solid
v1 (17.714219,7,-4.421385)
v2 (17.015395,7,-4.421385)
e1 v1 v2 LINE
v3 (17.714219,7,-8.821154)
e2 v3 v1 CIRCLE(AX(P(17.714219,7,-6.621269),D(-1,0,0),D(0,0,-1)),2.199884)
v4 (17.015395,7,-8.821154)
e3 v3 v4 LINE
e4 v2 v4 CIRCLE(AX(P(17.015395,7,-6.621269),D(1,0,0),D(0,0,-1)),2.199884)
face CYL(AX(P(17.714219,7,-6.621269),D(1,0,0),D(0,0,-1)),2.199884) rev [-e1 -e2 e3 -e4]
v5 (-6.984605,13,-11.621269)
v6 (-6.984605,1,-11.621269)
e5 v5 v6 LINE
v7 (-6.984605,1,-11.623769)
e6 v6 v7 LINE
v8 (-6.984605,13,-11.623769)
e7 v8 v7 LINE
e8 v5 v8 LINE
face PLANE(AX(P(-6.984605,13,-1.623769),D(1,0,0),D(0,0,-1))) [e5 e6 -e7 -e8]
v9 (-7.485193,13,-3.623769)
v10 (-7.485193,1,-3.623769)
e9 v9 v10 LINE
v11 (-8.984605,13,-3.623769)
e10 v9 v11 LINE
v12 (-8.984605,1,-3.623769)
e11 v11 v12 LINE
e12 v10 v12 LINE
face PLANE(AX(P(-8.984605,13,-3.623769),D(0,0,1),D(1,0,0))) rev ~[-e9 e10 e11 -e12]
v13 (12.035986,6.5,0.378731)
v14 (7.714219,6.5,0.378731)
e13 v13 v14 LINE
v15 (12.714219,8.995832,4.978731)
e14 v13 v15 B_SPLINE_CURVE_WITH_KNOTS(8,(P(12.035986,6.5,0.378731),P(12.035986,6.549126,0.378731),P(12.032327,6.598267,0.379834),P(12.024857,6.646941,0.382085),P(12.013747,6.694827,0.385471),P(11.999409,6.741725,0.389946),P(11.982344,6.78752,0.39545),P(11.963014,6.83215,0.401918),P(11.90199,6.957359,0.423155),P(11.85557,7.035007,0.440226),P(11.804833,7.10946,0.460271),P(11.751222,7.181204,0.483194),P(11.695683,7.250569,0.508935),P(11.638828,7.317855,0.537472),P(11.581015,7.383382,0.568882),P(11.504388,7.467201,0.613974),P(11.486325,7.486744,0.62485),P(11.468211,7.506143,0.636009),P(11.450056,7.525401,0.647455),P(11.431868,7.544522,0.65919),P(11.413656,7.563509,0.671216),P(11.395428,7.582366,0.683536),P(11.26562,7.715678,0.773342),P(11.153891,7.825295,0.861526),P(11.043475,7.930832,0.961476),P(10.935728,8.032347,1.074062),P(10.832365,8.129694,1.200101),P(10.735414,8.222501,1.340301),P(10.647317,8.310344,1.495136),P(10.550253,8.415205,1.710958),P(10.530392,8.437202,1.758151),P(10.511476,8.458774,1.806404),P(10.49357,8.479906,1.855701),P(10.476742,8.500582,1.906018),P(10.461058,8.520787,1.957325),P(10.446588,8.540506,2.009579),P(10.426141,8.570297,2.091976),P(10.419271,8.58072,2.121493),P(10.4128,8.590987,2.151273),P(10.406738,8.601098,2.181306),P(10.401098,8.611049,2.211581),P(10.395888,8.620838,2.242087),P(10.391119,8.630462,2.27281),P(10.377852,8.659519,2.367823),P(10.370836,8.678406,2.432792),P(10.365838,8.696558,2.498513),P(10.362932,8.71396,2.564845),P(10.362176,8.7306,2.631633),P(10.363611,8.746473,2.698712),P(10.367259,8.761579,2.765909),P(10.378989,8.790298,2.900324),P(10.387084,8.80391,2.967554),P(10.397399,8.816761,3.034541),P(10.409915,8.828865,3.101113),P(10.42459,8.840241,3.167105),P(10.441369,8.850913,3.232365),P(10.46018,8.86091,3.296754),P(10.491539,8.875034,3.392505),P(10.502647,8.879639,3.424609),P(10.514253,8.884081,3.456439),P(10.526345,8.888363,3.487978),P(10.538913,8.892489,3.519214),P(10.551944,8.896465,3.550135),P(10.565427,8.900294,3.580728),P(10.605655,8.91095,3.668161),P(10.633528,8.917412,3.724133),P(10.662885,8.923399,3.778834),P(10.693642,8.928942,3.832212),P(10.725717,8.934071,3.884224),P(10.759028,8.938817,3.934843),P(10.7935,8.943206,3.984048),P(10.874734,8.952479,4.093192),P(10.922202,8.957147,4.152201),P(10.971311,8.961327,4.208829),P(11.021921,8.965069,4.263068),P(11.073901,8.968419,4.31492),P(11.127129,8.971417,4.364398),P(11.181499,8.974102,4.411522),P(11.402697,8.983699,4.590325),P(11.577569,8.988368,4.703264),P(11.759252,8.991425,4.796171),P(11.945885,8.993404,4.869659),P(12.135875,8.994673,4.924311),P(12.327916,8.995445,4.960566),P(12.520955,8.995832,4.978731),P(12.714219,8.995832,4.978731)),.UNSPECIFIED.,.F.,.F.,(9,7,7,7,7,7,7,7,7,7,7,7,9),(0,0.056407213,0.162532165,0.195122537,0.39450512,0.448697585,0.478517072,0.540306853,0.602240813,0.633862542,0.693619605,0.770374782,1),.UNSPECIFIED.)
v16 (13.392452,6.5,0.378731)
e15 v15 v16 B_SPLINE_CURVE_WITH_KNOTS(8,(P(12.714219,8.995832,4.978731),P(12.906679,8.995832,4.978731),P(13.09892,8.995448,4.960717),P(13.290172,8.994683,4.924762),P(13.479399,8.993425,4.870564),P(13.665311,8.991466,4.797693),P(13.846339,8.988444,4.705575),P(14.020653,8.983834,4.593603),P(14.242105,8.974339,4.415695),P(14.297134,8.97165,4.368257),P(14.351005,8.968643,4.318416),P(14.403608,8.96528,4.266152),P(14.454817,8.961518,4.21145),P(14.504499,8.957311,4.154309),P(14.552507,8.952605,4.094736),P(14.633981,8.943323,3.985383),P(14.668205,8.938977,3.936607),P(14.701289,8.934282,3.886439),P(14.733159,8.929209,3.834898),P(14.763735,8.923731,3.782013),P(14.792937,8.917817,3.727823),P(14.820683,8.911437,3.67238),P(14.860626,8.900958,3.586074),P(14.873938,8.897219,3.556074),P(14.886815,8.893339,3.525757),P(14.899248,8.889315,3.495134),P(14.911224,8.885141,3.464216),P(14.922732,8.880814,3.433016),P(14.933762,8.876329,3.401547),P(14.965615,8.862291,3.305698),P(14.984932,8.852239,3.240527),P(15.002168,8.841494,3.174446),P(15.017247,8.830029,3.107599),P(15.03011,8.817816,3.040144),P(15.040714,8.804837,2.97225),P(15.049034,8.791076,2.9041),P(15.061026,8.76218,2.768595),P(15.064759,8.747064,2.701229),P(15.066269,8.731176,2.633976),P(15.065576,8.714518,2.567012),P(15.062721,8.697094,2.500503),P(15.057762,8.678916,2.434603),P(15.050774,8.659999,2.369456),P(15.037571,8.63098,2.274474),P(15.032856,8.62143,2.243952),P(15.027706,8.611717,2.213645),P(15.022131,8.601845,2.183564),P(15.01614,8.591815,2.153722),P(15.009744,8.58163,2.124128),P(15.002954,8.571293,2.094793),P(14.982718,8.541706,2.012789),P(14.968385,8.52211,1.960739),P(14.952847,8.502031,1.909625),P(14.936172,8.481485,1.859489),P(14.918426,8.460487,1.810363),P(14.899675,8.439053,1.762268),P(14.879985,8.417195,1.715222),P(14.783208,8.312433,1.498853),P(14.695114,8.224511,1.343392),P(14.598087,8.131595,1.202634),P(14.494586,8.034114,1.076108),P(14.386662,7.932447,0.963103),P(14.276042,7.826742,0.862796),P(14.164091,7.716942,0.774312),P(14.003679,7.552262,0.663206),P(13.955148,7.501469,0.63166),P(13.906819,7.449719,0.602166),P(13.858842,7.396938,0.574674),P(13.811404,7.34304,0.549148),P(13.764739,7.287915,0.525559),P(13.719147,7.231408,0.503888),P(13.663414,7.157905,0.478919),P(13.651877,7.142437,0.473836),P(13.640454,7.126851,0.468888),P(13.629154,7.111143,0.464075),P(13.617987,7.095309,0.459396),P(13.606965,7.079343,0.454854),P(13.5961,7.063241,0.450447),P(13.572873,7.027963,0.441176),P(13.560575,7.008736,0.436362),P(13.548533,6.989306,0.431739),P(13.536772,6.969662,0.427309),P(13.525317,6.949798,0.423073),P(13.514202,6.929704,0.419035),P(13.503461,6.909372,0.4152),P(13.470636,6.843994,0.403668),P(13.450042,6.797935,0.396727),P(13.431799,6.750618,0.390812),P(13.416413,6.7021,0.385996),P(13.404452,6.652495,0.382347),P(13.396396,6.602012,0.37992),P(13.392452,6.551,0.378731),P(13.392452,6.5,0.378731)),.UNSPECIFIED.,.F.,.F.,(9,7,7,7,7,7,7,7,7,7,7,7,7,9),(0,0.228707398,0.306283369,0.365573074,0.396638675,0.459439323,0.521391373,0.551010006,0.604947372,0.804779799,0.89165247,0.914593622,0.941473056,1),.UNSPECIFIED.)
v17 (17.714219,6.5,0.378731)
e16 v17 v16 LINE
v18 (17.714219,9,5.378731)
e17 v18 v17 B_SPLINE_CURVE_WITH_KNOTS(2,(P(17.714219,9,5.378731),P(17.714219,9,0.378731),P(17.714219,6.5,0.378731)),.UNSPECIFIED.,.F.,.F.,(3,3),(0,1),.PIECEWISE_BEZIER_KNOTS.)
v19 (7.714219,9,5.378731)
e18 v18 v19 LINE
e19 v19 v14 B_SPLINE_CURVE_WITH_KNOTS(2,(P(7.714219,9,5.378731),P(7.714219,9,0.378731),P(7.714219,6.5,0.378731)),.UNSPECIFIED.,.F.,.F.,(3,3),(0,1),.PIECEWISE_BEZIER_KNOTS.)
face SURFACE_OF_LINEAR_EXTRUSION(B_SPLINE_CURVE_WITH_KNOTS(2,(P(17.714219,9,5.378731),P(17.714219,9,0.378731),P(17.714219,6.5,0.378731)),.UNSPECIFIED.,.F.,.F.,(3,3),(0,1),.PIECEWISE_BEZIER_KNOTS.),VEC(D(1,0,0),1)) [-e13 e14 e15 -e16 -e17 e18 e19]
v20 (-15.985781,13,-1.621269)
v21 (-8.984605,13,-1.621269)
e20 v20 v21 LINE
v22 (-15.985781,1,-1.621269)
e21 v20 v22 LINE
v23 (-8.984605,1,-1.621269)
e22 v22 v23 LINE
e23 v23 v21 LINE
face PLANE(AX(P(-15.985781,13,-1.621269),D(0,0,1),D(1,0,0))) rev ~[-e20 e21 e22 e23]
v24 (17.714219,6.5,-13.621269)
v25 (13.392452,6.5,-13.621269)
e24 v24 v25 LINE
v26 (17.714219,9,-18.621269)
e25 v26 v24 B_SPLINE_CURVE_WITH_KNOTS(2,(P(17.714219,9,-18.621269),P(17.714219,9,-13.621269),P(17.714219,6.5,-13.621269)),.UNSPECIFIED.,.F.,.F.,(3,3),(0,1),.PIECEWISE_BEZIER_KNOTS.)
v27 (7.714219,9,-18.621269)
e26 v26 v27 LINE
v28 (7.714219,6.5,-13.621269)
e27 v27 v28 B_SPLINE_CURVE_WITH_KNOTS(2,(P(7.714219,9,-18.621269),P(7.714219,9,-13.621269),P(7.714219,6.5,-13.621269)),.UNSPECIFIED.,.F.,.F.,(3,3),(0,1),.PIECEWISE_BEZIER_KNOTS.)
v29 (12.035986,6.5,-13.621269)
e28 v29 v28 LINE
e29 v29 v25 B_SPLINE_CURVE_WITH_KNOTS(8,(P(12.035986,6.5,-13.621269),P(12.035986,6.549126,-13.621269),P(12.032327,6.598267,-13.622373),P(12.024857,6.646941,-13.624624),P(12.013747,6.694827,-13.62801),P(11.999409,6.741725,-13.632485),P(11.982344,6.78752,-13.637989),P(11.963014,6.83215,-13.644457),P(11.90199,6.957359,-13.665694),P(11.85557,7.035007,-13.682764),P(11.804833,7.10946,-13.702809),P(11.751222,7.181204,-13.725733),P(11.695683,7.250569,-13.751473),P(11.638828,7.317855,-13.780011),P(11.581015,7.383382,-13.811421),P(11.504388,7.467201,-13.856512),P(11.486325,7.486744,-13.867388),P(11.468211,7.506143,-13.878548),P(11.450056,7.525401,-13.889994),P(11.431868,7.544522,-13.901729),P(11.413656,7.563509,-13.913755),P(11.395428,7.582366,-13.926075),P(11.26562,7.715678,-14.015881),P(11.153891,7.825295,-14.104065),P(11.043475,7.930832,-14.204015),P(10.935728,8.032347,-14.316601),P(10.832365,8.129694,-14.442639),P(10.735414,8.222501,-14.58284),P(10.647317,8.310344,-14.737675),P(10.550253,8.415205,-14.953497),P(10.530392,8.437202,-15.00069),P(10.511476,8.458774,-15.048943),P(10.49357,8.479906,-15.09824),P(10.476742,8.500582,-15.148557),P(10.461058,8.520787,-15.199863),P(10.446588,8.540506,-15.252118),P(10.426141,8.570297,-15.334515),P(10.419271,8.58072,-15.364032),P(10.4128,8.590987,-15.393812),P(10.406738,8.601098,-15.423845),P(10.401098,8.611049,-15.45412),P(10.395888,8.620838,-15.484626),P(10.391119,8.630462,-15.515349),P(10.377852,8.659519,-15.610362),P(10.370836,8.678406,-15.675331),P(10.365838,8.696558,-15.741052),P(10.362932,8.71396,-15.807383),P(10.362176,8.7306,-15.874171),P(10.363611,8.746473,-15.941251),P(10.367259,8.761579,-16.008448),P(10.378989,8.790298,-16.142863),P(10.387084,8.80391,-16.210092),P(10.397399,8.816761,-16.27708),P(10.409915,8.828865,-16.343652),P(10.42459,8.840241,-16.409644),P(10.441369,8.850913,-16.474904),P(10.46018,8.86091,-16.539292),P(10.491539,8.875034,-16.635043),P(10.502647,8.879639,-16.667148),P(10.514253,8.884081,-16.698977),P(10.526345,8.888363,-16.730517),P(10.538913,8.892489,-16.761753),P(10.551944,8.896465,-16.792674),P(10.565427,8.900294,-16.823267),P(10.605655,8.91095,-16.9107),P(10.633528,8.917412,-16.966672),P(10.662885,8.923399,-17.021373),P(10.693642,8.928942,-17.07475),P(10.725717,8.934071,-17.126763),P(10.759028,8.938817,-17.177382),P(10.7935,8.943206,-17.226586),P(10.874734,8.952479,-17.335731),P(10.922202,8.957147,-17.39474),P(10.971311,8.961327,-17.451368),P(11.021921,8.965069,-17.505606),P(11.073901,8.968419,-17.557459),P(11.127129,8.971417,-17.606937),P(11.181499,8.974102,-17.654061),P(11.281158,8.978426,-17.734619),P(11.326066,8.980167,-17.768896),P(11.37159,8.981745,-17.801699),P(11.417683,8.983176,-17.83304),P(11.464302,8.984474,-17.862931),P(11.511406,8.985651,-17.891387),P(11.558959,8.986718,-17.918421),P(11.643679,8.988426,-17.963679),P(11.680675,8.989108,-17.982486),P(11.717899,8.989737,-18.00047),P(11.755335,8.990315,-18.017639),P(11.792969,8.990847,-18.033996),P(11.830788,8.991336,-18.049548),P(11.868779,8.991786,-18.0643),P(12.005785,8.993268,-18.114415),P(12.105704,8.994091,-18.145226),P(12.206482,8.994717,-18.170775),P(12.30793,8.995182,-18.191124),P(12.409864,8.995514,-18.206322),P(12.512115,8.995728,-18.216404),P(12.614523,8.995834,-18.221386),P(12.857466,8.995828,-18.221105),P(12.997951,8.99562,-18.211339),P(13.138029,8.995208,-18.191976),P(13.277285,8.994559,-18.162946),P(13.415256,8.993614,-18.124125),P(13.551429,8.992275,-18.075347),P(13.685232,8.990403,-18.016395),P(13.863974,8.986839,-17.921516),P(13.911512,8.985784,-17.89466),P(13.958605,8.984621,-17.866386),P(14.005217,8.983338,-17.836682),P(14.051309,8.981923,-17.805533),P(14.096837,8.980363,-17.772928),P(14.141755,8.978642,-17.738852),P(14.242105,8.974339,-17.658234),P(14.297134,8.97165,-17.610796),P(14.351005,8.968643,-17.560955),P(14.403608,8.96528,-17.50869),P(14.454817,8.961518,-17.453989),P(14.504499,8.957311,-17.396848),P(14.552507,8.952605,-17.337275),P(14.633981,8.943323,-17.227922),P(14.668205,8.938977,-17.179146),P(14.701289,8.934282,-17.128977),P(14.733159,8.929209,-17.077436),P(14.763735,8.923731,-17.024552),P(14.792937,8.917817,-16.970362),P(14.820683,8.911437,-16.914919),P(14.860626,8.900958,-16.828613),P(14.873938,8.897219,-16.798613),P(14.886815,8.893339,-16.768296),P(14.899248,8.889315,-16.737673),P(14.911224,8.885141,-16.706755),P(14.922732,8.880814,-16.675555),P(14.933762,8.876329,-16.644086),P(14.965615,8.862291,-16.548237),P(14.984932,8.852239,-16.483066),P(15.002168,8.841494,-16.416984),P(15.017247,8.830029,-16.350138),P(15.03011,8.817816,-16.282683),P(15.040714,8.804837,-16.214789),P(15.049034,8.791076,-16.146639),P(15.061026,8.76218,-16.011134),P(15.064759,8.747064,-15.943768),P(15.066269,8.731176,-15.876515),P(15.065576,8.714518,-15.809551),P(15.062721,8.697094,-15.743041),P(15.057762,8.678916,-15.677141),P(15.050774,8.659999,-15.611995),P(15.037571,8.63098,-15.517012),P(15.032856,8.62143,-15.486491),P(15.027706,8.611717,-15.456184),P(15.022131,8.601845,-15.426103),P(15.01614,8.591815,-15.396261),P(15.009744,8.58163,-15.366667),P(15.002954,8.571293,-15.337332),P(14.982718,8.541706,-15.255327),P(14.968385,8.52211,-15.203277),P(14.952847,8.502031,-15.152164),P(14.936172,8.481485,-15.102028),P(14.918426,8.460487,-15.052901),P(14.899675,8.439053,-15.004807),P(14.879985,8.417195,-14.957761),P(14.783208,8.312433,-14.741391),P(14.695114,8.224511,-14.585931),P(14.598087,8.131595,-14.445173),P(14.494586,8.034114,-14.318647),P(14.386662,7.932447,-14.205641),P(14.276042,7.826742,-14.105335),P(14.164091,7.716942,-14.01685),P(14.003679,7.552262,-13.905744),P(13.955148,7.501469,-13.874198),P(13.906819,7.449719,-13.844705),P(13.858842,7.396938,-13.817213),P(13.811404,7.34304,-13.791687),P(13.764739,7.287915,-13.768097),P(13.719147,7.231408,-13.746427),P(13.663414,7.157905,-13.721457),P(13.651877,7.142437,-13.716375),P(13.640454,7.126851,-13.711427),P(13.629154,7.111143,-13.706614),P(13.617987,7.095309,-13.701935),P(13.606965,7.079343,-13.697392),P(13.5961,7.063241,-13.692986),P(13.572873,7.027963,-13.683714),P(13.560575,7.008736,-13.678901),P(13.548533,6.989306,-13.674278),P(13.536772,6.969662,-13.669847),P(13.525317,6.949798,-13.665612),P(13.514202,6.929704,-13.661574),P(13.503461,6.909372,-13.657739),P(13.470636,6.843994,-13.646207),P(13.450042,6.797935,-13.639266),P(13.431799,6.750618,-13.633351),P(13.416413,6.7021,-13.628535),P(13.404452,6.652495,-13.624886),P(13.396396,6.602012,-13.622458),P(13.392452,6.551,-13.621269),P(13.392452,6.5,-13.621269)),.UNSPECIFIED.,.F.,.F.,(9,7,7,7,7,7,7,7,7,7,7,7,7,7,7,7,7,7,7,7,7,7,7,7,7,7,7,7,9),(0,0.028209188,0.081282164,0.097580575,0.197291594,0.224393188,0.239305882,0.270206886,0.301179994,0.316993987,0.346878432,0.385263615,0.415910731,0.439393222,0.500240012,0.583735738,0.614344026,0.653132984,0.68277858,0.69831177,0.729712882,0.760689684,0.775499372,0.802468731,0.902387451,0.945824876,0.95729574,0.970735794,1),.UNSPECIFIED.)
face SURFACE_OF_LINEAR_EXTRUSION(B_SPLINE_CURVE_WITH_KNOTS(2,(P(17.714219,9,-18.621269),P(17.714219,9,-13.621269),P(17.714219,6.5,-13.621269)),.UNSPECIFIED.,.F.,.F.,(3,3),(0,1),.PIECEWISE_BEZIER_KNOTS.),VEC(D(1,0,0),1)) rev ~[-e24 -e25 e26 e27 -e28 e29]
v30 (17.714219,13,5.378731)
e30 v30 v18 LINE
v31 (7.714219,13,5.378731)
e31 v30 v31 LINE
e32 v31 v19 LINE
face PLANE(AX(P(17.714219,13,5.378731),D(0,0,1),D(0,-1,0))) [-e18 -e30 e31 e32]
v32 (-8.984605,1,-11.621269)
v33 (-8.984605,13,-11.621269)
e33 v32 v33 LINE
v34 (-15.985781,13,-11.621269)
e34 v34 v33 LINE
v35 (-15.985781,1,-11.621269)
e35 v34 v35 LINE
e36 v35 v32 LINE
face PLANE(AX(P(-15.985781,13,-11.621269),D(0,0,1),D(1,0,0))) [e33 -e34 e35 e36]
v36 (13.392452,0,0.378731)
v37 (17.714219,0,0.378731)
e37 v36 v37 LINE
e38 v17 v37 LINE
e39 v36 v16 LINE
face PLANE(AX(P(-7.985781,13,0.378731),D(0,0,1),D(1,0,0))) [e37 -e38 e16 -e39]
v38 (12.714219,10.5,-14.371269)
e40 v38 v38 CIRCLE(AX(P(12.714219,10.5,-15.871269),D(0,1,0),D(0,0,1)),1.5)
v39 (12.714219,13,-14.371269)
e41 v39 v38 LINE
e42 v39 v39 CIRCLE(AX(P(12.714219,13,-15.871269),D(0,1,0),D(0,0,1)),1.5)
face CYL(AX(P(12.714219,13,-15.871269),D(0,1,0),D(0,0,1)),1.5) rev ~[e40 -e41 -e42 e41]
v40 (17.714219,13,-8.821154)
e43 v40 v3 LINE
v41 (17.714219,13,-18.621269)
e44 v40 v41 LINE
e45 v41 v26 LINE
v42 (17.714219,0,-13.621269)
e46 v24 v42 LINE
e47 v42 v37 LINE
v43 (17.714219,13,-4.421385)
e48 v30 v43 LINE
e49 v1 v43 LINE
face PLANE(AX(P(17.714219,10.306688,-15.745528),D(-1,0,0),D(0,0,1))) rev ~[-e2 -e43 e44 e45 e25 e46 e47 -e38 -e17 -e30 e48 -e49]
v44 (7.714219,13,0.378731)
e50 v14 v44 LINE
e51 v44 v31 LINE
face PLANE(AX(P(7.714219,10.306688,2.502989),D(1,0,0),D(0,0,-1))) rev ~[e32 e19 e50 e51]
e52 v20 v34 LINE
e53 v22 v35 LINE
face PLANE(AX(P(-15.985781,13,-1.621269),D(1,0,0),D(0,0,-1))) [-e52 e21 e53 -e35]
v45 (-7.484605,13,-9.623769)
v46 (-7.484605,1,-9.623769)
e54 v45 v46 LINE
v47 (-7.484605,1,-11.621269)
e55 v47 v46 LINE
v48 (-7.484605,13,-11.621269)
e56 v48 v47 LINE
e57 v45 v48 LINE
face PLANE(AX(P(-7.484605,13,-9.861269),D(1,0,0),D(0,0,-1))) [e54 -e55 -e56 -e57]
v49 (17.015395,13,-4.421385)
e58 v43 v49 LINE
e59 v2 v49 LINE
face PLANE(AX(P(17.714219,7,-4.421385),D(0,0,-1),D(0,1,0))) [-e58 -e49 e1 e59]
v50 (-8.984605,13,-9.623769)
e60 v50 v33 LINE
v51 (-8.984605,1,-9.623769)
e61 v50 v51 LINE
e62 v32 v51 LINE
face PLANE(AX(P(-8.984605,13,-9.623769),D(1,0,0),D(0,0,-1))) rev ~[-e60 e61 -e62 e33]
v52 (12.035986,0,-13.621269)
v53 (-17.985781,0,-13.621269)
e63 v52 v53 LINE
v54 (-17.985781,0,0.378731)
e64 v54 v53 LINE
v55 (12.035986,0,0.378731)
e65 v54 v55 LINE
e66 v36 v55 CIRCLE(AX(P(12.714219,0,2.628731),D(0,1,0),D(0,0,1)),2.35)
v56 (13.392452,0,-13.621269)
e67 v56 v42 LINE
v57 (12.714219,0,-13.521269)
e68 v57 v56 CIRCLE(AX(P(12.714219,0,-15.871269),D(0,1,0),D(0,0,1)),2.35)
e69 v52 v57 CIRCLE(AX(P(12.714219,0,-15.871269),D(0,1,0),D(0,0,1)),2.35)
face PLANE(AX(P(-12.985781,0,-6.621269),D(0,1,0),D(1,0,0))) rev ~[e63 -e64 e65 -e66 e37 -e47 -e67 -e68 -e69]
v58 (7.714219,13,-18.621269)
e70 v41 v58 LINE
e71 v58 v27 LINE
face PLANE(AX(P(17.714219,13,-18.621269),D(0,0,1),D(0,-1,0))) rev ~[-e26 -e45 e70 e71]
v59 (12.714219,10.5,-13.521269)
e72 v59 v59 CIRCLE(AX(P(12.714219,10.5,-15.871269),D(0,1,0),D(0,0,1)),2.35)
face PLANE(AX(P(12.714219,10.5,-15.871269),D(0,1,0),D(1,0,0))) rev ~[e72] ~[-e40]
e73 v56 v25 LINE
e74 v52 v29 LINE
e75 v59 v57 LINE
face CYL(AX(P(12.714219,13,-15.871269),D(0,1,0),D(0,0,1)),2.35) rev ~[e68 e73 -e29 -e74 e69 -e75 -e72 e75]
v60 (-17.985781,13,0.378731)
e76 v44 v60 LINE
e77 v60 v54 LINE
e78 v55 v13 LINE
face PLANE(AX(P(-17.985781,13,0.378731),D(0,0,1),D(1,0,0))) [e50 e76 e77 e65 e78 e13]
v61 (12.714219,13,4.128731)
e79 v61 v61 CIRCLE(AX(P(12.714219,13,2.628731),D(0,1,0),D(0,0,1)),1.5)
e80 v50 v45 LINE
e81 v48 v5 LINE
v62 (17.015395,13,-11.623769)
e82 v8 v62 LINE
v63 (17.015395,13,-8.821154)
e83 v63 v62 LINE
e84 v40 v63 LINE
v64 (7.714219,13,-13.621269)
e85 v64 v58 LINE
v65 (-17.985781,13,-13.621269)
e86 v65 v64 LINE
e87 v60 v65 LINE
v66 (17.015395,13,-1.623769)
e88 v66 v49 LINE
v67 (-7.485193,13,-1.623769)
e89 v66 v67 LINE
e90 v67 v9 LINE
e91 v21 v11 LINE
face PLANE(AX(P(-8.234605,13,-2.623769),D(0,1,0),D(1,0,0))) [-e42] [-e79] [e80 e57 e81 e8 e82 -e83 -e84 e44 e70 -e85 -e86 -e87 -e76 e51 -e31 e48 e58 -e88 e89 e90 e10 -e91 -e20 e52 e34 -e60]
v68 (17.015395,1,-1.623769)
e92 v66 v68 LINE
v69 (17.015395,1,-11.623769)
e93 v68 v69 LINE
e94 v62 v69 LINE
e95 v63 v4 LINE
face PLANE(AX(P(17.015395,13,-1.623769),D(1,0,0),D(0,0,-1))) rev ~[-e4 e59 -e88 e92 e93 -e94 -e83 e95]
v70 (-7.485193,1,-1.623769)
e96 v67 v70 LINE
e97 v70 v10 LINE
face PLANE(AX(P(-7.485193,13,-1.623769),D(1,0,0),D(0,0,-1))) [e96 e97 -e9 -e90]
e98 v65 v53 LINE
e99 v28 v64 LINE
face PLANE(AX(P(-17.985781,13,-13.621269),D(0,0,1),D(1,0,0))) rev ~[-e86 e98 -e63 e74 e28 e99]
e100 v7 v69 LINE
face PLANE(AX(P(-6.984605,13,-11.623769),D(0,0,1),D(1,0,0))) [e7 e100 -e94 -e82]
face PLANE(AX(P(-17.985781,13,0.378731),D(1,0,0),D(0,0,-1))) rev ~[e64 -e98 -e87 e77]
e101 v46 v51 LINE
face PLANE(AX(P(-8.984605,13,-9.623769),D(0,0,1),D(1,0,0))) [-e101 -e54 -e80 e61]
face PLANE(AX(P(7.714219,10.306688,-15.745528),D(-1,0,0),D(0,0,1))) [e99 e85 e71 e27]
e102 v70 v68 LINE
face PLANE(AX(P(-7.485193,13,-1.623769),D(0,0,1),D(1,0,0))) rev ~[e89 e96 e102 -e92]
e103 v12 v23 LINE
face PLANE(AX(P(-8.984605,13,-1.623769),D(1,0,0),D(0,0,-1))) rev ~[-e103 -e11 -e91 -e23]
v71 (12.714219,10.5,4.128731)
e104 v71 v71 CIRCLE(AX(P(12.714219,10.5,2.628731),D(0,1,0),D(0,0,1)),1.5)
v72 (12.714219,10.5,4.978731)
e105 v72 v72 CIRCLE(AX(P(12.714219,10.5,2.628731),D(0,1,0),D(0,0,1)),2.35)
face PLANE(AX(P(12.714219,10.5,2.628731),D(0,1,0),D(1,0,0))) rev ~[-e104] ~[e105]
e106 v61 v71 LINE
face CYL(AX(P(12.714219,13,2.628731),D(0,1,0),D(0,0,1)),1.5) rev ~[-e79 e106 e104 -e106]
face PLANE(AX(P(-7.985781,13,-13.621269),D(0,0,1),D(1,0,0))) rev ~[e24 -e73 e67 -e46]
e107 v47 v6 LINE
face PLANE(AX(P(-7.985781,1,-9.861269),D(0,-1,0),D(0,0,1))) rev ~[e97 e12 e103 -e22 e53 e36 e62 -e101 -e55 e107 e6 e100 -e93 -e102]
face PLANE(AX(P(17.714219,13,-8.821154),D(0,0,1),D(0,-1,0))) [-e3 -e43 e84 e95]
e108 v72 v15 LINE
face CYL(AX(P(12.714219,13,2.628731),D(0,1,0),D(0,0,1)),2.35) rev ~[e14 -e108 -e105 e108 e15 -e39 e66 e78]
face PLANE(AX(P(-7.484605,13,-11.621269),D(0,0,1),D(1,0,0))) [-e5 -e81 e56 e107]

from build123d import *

# Parameters (mm, degrees)
SKETCH1_W            = 25.7
SKETCH1_H            = 16
BOSS_EXTRUDE5_DEPTH  = 13
SKETCH3_W            = 24
SKETCH3_H            = 10
CUT_EXTRUDE1_DEPTH   = 12
SKETCH6_W            = 6
SKETCH6_H            = 12
CUT_EXTRUDE6_DEPTH   = 12
SKETCH12_W           = 25.7
SKETCH12_H           = 13
CUT_EXTRUDE9_DEPTH   = 1
SKETCH13_W           = 25.7
SKETCH13_H           = 13
CUT_EXTRUDE10_DEPTH  = 1
SKETCH14_W           = 25.7
SKETCH14_H           = 0.24
CUT_EXTRUDE11_DEPTH  = 26.979383268
SKETCH15_W           = 25.7
SKETCH15_H           = 0.24
BOSS_EXTRUDE6_DEPTH  = 13
BOSS_EXTRUDE8_DEPTH  = 10
SKETCH19_R           = 2.35
CUT_EXTRUDE12_DEPTH  = 29.801827185
SKETCH20_R           = 2.4
SKETCH20_R_2         = 2.45
BOSS_EXTRUDE9_DEPTH  = 2.5
SKETCH21_R           = 1.5
CUT_EXTRUDE13_DEPTH  = 29.801827185
SKETCH22_W           = 10
SKETCH22_H           = 14
BOSS_EXTRUDE11_DEPTH = 13
SKETCH25_W           = 8
SKETCH25_H           = 10
CUT_EXTRUDE17_DEPTH  = 12
SKETCH26_W           = 1.5
SKETCH26_H           = 2
BOSS_EXTRUDE12_DEPTH = 13
SKETCH27_W           = 0.5
SKETCH27_H           = 1.76
SKETCH27_W_2         = 0.500587584
SKETCH27_H_2         = 2
CUT_EXTRUDE18_DEPTH  = 12
SKETCH28_W           = 1.277363426
SKETCH28_H           = 0.860849325
BOSS_EXTRUDE13_DEPTH = 12
CUT_EXTRUDE20_DEPTH  = 12


with BuildPart() as part:
    # Sketch1 → Boss-Extrude5 (new body)
    with BuildSketch(Plane(origin=(0, 0, 0), x_dir=(1, 0, 0), z_dir=(0, 1, 0))):
        with Locations((4.864219333, 6.861269364)):
            Rectangle(SKETCH1_W, SKETCH1_H)
    extrude(amount=BOSS_EXTRUDE5_DEPTH)

    # Sketch3 → Cut-Extrude1 (cut)
    with BuildSketch(Plane(origin=(0, 13, 0), x_dir=(1, 0, 0), z_dir=(0, 1, 0))):
        with Locations((5.015394501, 6.623768503)):
            Rectangle(SKETCH3_W, SKETCH3_H)
    extrude(amount=-CUT_EXTRUDE1_DEPTH, mode=Mode.SUBTRACT)

    # Sketch6 → Cut-Extrude6 (cut)
    with BuildSketch(Plane.ZY.offset(7.985780667)):
        with Locations((-6.861269364, 7)):
            Rectangle(SKETCH6_W, SKETCH6_H)
    extrude(amount=-CUT_EXTRUDE6_DEPTH, mode=Mode.SUBTRACT)

    # Sketch12 → Cut-Extrude9 (cut)
    with BuildSketch(Plane(origin=(0, 0, -14.861269364), x_dir=(-1, 0, 0), z_dir=(0, 0, -1))):
        with Locations((-4.864219333, 6.5)):
            Rectangle(SKETCH12_W, SKETCH12_H)
    extrude(amount=-CUT_EXTRUDE9_DEPTH, mode=Mode.SUBTRACT)

    # Sketch13 → Cut-Extrude10 (cut)
    with BuildSketch(Plane.XY.offset(1.138730636)):
        with Locations((4.864219333, 6.5)):
            Rectangle(SKETCH13_W, SKETCH13_H)
    extrude(amount=-CUT_EXTRUDE10_DEPTH, mode=Mode.SUBTRACT)

    # Sketch14 → Cut-Extrude11 (cut, through all)
    with BuildSketch(Plane(origin=(0, 13, 0), x_dir=(1, 0, 0), z_dir=(0, 1, 0))):
        with Locations((4.864219333, 13.741269364)):
            Rectangle(SKETCH14_W, SKETCH14_H)
    extrude(amount=-CUT_EXTRUDE11_DEPTH, mode=Mode.SUBTRACT)

    # Sketch15 → Boss-Extrude6 (add)
    with BuildSketch(Plane(origin=(0, 13, 0), x_dir=(1, 0, 0), z_dir=(0, 1, 0))):
        with Locations((4.864219333, -0.258730636)):
            Rectangle(SKETCH15_W, SKETCH15_H)
    extrude(amount=-BOSS_EXTRUDE6_DEPTH)

    # Sketch17 → Boss-Extrude8 (add)
    with BuildSketch(Plane(origin=(17.714219333, 0, 0), x_dir=(0, 0, -1), z_dir=(1, 0, 0))):
        with BuildLine():
            Line((13.621269364, 13), (18.621269364, 13))
            Line((18.621269364, 13), (18.621269364, 9))
            add(Edge.make_bspline(
                [(18.621269364, 9), (13.621269364, 9), (13.621269364, 6.5)],
                knots=[0, 0, 0, 1, 1, 1], degree=2))
            Line((13.621269364, 6.5), (13.621269364, 13))
        make_face()
        with BuildLine():
            Line((-0.378730636, 13), (-5.378730636, 13))
            Line((-5.378730636, 13), (-5.378730636, 9))
            add(Edge.make_bspline(
                [(-5.378730636, 9), (-0.378730636, 9), (-0.378730636, 6.5)],
                knots=[0, 0, 0, 1, 1, 1], degree=2))
            Line((-0.378730636, 6.5), (-0.378730636, 13))
        make_face()
    extrude(amount=-BOSS_EXTRUDE8_DEPTH)

    # Sketch19 → Cut-Extrude12 (cut, through all)
    with BuildSketch(Plane(origin=(0, 13, 0), x_dir=(1, 0, 0), z_dir=(0, 1, 0))):
        with Locations(Location((12.714219333, 15.871269364, 0), (0, 0, 270))):
            Circle(SKETCH19_R)
        with Locations(Location((12.714219333, -2.628730636, 0), (0, 0, 270))):
            Circle(SKETCH19_R)
    extrude(amount=-CUT_EXTRUDE12_DEPTH, mode=Mode.SUBTRACT)

    # Sketch20 → Boss-Extrude9 (add)
    with BuildSketch(Plane(origin=(0, 13, 0), x_dir=(1, 0, 0), z_dir=(0, 1, 0))):
        with Locations((12.714219333, 15.871269364)):
            Circle(SKETCH20_R)
        with Locations((12.714219333, -2.628730636)):
            Circle(SKETCH20_R_2)
    extrude(amount=-BOSS_EXTRUDE9_DEPTH)

    # Sketch21 → Cut-Extrude13 (cut, through all)
    with BuildSketch(Plane(origin=(0, 13, 0), x_dir=(1, 0, 0), z_dir=(0, 1, 0))):
        with Locations(Location((12.714219333, 15.871269364, 0), (0, 0, 270))):
            Circle(SKETCH21_R)
        with Locations(Location((12.714219333, -2.628730636, 0), (0, 0, 270))):
            Circle(SKETCH21_R)
    extrude(amount=-CUT_EXTRUDE13_DEPTH, mode=Mode.SUBTRACT)

    # Sketch22 → Boss-Extrude11 (add)
    with BuildSketch(Plane(origin=(0, 13, 0), x_dir=(1, 0, 0), z_dir=(0, 1, 0))):
        with Locations((-12.985780667, 6.621269364)):
            Rectangle(SKETCH22_W, SKETCH22_H)
    extrude(amount=-BOSS_EXTRUDE11_DEPTH)

    # Sketch25 → Cut-Extrude17 (cut)
    with BuildSketch(Plane(origin=(0, 13, 0), x_dir=(1, 0, 0), z_dir=(0, 1, 0))):
        with Locations((-11.985780667, 6.621269364)):
            Rectangle(SKETCH25_W, SKETCH25_H)
    extrude(amount=-CUT_EXTRUDE17_DEPTH, mode=Mode.SUBTRACT)

    # Sketch26 → Boss-Extrude12 (add)
    with BuildSketch(Plane(origin=(0, 13, 0), x_dir=(1, 0, 0), z_dir=(0, 1, 0))):
        with Locations((-8.234605499, 2.623768503)):
            Rectangle(SKETCH26_W, SKETCH26_H)
        with Locations((-8.234605499, 10.623768503)):
            Rectangle(SKETCH26_W, SKETCH26_H)
    extrude(amount=-BOSS_EXTRUDE12_DEPTH)

    # Sketch27 → Cut-Extrude18 (cut)
    with BuildSketch(Plane(origin=(0, 13, 0), x_dir=(1, 0, 0), z_dir=(0, 1, 0))):
        with Locations((-7.234605499, 10.741269364)):
            Rectangle(SKETCH27_W, SKETCH27_H)
        Polygon((-7.985780667, 3.861269364), (-7.985780667, 3.623768503), (-7.485193083, 3.623768503), (-6.984605499, 3.623768503), (-6.984605499, 3.861269364), align=None)
        with Locations((-7.234899291, 2.623768503)):
            Rectangle(SKETCH27_W_2, SKETCH27_H_2)
    extrude(amount=-CUT_EXTRUDE18_DEPTH, mode=Mode.SUBTRACT)

    # Sketch28 → Boss-Extrude13 (add)
    with BuildSketch(Plane(origin=(0, 13, 0), x_dir=(1, 0, 0), z_dir=(0, 1, 0))):
        with Locations((-8.345923786, 1.388186548)):
            Rectangle(SKETCH28_W, SKETCH28_H)
    extrude(amount=-BOSS_EXTRUDE13_DEPTH)

    # Sketch35 → Cut-Extrude20 (cut)
    with BuildSketch(Plane(origin=(17.714219333, 0, 0), x_dir=(0, 0, -1), z_dir=(1, 0, 0))):
        with BuildLine():
            Line((4.421384975, 7), (4.421384975, 13))
            Line((4.421384975, 13), (8.821153753, 13))
            Line((8.821153753, 13), (8.821153753, 7))
            ThreePointArc((8.821153753, 7), (6.621269364, 4.800115611), (4.421384975, 7))
        make_face()
    extrude(amount=-CUT_EXTRUDE20_DEPTH, mode=Mode.SUBTRACT)


solid = part.part
